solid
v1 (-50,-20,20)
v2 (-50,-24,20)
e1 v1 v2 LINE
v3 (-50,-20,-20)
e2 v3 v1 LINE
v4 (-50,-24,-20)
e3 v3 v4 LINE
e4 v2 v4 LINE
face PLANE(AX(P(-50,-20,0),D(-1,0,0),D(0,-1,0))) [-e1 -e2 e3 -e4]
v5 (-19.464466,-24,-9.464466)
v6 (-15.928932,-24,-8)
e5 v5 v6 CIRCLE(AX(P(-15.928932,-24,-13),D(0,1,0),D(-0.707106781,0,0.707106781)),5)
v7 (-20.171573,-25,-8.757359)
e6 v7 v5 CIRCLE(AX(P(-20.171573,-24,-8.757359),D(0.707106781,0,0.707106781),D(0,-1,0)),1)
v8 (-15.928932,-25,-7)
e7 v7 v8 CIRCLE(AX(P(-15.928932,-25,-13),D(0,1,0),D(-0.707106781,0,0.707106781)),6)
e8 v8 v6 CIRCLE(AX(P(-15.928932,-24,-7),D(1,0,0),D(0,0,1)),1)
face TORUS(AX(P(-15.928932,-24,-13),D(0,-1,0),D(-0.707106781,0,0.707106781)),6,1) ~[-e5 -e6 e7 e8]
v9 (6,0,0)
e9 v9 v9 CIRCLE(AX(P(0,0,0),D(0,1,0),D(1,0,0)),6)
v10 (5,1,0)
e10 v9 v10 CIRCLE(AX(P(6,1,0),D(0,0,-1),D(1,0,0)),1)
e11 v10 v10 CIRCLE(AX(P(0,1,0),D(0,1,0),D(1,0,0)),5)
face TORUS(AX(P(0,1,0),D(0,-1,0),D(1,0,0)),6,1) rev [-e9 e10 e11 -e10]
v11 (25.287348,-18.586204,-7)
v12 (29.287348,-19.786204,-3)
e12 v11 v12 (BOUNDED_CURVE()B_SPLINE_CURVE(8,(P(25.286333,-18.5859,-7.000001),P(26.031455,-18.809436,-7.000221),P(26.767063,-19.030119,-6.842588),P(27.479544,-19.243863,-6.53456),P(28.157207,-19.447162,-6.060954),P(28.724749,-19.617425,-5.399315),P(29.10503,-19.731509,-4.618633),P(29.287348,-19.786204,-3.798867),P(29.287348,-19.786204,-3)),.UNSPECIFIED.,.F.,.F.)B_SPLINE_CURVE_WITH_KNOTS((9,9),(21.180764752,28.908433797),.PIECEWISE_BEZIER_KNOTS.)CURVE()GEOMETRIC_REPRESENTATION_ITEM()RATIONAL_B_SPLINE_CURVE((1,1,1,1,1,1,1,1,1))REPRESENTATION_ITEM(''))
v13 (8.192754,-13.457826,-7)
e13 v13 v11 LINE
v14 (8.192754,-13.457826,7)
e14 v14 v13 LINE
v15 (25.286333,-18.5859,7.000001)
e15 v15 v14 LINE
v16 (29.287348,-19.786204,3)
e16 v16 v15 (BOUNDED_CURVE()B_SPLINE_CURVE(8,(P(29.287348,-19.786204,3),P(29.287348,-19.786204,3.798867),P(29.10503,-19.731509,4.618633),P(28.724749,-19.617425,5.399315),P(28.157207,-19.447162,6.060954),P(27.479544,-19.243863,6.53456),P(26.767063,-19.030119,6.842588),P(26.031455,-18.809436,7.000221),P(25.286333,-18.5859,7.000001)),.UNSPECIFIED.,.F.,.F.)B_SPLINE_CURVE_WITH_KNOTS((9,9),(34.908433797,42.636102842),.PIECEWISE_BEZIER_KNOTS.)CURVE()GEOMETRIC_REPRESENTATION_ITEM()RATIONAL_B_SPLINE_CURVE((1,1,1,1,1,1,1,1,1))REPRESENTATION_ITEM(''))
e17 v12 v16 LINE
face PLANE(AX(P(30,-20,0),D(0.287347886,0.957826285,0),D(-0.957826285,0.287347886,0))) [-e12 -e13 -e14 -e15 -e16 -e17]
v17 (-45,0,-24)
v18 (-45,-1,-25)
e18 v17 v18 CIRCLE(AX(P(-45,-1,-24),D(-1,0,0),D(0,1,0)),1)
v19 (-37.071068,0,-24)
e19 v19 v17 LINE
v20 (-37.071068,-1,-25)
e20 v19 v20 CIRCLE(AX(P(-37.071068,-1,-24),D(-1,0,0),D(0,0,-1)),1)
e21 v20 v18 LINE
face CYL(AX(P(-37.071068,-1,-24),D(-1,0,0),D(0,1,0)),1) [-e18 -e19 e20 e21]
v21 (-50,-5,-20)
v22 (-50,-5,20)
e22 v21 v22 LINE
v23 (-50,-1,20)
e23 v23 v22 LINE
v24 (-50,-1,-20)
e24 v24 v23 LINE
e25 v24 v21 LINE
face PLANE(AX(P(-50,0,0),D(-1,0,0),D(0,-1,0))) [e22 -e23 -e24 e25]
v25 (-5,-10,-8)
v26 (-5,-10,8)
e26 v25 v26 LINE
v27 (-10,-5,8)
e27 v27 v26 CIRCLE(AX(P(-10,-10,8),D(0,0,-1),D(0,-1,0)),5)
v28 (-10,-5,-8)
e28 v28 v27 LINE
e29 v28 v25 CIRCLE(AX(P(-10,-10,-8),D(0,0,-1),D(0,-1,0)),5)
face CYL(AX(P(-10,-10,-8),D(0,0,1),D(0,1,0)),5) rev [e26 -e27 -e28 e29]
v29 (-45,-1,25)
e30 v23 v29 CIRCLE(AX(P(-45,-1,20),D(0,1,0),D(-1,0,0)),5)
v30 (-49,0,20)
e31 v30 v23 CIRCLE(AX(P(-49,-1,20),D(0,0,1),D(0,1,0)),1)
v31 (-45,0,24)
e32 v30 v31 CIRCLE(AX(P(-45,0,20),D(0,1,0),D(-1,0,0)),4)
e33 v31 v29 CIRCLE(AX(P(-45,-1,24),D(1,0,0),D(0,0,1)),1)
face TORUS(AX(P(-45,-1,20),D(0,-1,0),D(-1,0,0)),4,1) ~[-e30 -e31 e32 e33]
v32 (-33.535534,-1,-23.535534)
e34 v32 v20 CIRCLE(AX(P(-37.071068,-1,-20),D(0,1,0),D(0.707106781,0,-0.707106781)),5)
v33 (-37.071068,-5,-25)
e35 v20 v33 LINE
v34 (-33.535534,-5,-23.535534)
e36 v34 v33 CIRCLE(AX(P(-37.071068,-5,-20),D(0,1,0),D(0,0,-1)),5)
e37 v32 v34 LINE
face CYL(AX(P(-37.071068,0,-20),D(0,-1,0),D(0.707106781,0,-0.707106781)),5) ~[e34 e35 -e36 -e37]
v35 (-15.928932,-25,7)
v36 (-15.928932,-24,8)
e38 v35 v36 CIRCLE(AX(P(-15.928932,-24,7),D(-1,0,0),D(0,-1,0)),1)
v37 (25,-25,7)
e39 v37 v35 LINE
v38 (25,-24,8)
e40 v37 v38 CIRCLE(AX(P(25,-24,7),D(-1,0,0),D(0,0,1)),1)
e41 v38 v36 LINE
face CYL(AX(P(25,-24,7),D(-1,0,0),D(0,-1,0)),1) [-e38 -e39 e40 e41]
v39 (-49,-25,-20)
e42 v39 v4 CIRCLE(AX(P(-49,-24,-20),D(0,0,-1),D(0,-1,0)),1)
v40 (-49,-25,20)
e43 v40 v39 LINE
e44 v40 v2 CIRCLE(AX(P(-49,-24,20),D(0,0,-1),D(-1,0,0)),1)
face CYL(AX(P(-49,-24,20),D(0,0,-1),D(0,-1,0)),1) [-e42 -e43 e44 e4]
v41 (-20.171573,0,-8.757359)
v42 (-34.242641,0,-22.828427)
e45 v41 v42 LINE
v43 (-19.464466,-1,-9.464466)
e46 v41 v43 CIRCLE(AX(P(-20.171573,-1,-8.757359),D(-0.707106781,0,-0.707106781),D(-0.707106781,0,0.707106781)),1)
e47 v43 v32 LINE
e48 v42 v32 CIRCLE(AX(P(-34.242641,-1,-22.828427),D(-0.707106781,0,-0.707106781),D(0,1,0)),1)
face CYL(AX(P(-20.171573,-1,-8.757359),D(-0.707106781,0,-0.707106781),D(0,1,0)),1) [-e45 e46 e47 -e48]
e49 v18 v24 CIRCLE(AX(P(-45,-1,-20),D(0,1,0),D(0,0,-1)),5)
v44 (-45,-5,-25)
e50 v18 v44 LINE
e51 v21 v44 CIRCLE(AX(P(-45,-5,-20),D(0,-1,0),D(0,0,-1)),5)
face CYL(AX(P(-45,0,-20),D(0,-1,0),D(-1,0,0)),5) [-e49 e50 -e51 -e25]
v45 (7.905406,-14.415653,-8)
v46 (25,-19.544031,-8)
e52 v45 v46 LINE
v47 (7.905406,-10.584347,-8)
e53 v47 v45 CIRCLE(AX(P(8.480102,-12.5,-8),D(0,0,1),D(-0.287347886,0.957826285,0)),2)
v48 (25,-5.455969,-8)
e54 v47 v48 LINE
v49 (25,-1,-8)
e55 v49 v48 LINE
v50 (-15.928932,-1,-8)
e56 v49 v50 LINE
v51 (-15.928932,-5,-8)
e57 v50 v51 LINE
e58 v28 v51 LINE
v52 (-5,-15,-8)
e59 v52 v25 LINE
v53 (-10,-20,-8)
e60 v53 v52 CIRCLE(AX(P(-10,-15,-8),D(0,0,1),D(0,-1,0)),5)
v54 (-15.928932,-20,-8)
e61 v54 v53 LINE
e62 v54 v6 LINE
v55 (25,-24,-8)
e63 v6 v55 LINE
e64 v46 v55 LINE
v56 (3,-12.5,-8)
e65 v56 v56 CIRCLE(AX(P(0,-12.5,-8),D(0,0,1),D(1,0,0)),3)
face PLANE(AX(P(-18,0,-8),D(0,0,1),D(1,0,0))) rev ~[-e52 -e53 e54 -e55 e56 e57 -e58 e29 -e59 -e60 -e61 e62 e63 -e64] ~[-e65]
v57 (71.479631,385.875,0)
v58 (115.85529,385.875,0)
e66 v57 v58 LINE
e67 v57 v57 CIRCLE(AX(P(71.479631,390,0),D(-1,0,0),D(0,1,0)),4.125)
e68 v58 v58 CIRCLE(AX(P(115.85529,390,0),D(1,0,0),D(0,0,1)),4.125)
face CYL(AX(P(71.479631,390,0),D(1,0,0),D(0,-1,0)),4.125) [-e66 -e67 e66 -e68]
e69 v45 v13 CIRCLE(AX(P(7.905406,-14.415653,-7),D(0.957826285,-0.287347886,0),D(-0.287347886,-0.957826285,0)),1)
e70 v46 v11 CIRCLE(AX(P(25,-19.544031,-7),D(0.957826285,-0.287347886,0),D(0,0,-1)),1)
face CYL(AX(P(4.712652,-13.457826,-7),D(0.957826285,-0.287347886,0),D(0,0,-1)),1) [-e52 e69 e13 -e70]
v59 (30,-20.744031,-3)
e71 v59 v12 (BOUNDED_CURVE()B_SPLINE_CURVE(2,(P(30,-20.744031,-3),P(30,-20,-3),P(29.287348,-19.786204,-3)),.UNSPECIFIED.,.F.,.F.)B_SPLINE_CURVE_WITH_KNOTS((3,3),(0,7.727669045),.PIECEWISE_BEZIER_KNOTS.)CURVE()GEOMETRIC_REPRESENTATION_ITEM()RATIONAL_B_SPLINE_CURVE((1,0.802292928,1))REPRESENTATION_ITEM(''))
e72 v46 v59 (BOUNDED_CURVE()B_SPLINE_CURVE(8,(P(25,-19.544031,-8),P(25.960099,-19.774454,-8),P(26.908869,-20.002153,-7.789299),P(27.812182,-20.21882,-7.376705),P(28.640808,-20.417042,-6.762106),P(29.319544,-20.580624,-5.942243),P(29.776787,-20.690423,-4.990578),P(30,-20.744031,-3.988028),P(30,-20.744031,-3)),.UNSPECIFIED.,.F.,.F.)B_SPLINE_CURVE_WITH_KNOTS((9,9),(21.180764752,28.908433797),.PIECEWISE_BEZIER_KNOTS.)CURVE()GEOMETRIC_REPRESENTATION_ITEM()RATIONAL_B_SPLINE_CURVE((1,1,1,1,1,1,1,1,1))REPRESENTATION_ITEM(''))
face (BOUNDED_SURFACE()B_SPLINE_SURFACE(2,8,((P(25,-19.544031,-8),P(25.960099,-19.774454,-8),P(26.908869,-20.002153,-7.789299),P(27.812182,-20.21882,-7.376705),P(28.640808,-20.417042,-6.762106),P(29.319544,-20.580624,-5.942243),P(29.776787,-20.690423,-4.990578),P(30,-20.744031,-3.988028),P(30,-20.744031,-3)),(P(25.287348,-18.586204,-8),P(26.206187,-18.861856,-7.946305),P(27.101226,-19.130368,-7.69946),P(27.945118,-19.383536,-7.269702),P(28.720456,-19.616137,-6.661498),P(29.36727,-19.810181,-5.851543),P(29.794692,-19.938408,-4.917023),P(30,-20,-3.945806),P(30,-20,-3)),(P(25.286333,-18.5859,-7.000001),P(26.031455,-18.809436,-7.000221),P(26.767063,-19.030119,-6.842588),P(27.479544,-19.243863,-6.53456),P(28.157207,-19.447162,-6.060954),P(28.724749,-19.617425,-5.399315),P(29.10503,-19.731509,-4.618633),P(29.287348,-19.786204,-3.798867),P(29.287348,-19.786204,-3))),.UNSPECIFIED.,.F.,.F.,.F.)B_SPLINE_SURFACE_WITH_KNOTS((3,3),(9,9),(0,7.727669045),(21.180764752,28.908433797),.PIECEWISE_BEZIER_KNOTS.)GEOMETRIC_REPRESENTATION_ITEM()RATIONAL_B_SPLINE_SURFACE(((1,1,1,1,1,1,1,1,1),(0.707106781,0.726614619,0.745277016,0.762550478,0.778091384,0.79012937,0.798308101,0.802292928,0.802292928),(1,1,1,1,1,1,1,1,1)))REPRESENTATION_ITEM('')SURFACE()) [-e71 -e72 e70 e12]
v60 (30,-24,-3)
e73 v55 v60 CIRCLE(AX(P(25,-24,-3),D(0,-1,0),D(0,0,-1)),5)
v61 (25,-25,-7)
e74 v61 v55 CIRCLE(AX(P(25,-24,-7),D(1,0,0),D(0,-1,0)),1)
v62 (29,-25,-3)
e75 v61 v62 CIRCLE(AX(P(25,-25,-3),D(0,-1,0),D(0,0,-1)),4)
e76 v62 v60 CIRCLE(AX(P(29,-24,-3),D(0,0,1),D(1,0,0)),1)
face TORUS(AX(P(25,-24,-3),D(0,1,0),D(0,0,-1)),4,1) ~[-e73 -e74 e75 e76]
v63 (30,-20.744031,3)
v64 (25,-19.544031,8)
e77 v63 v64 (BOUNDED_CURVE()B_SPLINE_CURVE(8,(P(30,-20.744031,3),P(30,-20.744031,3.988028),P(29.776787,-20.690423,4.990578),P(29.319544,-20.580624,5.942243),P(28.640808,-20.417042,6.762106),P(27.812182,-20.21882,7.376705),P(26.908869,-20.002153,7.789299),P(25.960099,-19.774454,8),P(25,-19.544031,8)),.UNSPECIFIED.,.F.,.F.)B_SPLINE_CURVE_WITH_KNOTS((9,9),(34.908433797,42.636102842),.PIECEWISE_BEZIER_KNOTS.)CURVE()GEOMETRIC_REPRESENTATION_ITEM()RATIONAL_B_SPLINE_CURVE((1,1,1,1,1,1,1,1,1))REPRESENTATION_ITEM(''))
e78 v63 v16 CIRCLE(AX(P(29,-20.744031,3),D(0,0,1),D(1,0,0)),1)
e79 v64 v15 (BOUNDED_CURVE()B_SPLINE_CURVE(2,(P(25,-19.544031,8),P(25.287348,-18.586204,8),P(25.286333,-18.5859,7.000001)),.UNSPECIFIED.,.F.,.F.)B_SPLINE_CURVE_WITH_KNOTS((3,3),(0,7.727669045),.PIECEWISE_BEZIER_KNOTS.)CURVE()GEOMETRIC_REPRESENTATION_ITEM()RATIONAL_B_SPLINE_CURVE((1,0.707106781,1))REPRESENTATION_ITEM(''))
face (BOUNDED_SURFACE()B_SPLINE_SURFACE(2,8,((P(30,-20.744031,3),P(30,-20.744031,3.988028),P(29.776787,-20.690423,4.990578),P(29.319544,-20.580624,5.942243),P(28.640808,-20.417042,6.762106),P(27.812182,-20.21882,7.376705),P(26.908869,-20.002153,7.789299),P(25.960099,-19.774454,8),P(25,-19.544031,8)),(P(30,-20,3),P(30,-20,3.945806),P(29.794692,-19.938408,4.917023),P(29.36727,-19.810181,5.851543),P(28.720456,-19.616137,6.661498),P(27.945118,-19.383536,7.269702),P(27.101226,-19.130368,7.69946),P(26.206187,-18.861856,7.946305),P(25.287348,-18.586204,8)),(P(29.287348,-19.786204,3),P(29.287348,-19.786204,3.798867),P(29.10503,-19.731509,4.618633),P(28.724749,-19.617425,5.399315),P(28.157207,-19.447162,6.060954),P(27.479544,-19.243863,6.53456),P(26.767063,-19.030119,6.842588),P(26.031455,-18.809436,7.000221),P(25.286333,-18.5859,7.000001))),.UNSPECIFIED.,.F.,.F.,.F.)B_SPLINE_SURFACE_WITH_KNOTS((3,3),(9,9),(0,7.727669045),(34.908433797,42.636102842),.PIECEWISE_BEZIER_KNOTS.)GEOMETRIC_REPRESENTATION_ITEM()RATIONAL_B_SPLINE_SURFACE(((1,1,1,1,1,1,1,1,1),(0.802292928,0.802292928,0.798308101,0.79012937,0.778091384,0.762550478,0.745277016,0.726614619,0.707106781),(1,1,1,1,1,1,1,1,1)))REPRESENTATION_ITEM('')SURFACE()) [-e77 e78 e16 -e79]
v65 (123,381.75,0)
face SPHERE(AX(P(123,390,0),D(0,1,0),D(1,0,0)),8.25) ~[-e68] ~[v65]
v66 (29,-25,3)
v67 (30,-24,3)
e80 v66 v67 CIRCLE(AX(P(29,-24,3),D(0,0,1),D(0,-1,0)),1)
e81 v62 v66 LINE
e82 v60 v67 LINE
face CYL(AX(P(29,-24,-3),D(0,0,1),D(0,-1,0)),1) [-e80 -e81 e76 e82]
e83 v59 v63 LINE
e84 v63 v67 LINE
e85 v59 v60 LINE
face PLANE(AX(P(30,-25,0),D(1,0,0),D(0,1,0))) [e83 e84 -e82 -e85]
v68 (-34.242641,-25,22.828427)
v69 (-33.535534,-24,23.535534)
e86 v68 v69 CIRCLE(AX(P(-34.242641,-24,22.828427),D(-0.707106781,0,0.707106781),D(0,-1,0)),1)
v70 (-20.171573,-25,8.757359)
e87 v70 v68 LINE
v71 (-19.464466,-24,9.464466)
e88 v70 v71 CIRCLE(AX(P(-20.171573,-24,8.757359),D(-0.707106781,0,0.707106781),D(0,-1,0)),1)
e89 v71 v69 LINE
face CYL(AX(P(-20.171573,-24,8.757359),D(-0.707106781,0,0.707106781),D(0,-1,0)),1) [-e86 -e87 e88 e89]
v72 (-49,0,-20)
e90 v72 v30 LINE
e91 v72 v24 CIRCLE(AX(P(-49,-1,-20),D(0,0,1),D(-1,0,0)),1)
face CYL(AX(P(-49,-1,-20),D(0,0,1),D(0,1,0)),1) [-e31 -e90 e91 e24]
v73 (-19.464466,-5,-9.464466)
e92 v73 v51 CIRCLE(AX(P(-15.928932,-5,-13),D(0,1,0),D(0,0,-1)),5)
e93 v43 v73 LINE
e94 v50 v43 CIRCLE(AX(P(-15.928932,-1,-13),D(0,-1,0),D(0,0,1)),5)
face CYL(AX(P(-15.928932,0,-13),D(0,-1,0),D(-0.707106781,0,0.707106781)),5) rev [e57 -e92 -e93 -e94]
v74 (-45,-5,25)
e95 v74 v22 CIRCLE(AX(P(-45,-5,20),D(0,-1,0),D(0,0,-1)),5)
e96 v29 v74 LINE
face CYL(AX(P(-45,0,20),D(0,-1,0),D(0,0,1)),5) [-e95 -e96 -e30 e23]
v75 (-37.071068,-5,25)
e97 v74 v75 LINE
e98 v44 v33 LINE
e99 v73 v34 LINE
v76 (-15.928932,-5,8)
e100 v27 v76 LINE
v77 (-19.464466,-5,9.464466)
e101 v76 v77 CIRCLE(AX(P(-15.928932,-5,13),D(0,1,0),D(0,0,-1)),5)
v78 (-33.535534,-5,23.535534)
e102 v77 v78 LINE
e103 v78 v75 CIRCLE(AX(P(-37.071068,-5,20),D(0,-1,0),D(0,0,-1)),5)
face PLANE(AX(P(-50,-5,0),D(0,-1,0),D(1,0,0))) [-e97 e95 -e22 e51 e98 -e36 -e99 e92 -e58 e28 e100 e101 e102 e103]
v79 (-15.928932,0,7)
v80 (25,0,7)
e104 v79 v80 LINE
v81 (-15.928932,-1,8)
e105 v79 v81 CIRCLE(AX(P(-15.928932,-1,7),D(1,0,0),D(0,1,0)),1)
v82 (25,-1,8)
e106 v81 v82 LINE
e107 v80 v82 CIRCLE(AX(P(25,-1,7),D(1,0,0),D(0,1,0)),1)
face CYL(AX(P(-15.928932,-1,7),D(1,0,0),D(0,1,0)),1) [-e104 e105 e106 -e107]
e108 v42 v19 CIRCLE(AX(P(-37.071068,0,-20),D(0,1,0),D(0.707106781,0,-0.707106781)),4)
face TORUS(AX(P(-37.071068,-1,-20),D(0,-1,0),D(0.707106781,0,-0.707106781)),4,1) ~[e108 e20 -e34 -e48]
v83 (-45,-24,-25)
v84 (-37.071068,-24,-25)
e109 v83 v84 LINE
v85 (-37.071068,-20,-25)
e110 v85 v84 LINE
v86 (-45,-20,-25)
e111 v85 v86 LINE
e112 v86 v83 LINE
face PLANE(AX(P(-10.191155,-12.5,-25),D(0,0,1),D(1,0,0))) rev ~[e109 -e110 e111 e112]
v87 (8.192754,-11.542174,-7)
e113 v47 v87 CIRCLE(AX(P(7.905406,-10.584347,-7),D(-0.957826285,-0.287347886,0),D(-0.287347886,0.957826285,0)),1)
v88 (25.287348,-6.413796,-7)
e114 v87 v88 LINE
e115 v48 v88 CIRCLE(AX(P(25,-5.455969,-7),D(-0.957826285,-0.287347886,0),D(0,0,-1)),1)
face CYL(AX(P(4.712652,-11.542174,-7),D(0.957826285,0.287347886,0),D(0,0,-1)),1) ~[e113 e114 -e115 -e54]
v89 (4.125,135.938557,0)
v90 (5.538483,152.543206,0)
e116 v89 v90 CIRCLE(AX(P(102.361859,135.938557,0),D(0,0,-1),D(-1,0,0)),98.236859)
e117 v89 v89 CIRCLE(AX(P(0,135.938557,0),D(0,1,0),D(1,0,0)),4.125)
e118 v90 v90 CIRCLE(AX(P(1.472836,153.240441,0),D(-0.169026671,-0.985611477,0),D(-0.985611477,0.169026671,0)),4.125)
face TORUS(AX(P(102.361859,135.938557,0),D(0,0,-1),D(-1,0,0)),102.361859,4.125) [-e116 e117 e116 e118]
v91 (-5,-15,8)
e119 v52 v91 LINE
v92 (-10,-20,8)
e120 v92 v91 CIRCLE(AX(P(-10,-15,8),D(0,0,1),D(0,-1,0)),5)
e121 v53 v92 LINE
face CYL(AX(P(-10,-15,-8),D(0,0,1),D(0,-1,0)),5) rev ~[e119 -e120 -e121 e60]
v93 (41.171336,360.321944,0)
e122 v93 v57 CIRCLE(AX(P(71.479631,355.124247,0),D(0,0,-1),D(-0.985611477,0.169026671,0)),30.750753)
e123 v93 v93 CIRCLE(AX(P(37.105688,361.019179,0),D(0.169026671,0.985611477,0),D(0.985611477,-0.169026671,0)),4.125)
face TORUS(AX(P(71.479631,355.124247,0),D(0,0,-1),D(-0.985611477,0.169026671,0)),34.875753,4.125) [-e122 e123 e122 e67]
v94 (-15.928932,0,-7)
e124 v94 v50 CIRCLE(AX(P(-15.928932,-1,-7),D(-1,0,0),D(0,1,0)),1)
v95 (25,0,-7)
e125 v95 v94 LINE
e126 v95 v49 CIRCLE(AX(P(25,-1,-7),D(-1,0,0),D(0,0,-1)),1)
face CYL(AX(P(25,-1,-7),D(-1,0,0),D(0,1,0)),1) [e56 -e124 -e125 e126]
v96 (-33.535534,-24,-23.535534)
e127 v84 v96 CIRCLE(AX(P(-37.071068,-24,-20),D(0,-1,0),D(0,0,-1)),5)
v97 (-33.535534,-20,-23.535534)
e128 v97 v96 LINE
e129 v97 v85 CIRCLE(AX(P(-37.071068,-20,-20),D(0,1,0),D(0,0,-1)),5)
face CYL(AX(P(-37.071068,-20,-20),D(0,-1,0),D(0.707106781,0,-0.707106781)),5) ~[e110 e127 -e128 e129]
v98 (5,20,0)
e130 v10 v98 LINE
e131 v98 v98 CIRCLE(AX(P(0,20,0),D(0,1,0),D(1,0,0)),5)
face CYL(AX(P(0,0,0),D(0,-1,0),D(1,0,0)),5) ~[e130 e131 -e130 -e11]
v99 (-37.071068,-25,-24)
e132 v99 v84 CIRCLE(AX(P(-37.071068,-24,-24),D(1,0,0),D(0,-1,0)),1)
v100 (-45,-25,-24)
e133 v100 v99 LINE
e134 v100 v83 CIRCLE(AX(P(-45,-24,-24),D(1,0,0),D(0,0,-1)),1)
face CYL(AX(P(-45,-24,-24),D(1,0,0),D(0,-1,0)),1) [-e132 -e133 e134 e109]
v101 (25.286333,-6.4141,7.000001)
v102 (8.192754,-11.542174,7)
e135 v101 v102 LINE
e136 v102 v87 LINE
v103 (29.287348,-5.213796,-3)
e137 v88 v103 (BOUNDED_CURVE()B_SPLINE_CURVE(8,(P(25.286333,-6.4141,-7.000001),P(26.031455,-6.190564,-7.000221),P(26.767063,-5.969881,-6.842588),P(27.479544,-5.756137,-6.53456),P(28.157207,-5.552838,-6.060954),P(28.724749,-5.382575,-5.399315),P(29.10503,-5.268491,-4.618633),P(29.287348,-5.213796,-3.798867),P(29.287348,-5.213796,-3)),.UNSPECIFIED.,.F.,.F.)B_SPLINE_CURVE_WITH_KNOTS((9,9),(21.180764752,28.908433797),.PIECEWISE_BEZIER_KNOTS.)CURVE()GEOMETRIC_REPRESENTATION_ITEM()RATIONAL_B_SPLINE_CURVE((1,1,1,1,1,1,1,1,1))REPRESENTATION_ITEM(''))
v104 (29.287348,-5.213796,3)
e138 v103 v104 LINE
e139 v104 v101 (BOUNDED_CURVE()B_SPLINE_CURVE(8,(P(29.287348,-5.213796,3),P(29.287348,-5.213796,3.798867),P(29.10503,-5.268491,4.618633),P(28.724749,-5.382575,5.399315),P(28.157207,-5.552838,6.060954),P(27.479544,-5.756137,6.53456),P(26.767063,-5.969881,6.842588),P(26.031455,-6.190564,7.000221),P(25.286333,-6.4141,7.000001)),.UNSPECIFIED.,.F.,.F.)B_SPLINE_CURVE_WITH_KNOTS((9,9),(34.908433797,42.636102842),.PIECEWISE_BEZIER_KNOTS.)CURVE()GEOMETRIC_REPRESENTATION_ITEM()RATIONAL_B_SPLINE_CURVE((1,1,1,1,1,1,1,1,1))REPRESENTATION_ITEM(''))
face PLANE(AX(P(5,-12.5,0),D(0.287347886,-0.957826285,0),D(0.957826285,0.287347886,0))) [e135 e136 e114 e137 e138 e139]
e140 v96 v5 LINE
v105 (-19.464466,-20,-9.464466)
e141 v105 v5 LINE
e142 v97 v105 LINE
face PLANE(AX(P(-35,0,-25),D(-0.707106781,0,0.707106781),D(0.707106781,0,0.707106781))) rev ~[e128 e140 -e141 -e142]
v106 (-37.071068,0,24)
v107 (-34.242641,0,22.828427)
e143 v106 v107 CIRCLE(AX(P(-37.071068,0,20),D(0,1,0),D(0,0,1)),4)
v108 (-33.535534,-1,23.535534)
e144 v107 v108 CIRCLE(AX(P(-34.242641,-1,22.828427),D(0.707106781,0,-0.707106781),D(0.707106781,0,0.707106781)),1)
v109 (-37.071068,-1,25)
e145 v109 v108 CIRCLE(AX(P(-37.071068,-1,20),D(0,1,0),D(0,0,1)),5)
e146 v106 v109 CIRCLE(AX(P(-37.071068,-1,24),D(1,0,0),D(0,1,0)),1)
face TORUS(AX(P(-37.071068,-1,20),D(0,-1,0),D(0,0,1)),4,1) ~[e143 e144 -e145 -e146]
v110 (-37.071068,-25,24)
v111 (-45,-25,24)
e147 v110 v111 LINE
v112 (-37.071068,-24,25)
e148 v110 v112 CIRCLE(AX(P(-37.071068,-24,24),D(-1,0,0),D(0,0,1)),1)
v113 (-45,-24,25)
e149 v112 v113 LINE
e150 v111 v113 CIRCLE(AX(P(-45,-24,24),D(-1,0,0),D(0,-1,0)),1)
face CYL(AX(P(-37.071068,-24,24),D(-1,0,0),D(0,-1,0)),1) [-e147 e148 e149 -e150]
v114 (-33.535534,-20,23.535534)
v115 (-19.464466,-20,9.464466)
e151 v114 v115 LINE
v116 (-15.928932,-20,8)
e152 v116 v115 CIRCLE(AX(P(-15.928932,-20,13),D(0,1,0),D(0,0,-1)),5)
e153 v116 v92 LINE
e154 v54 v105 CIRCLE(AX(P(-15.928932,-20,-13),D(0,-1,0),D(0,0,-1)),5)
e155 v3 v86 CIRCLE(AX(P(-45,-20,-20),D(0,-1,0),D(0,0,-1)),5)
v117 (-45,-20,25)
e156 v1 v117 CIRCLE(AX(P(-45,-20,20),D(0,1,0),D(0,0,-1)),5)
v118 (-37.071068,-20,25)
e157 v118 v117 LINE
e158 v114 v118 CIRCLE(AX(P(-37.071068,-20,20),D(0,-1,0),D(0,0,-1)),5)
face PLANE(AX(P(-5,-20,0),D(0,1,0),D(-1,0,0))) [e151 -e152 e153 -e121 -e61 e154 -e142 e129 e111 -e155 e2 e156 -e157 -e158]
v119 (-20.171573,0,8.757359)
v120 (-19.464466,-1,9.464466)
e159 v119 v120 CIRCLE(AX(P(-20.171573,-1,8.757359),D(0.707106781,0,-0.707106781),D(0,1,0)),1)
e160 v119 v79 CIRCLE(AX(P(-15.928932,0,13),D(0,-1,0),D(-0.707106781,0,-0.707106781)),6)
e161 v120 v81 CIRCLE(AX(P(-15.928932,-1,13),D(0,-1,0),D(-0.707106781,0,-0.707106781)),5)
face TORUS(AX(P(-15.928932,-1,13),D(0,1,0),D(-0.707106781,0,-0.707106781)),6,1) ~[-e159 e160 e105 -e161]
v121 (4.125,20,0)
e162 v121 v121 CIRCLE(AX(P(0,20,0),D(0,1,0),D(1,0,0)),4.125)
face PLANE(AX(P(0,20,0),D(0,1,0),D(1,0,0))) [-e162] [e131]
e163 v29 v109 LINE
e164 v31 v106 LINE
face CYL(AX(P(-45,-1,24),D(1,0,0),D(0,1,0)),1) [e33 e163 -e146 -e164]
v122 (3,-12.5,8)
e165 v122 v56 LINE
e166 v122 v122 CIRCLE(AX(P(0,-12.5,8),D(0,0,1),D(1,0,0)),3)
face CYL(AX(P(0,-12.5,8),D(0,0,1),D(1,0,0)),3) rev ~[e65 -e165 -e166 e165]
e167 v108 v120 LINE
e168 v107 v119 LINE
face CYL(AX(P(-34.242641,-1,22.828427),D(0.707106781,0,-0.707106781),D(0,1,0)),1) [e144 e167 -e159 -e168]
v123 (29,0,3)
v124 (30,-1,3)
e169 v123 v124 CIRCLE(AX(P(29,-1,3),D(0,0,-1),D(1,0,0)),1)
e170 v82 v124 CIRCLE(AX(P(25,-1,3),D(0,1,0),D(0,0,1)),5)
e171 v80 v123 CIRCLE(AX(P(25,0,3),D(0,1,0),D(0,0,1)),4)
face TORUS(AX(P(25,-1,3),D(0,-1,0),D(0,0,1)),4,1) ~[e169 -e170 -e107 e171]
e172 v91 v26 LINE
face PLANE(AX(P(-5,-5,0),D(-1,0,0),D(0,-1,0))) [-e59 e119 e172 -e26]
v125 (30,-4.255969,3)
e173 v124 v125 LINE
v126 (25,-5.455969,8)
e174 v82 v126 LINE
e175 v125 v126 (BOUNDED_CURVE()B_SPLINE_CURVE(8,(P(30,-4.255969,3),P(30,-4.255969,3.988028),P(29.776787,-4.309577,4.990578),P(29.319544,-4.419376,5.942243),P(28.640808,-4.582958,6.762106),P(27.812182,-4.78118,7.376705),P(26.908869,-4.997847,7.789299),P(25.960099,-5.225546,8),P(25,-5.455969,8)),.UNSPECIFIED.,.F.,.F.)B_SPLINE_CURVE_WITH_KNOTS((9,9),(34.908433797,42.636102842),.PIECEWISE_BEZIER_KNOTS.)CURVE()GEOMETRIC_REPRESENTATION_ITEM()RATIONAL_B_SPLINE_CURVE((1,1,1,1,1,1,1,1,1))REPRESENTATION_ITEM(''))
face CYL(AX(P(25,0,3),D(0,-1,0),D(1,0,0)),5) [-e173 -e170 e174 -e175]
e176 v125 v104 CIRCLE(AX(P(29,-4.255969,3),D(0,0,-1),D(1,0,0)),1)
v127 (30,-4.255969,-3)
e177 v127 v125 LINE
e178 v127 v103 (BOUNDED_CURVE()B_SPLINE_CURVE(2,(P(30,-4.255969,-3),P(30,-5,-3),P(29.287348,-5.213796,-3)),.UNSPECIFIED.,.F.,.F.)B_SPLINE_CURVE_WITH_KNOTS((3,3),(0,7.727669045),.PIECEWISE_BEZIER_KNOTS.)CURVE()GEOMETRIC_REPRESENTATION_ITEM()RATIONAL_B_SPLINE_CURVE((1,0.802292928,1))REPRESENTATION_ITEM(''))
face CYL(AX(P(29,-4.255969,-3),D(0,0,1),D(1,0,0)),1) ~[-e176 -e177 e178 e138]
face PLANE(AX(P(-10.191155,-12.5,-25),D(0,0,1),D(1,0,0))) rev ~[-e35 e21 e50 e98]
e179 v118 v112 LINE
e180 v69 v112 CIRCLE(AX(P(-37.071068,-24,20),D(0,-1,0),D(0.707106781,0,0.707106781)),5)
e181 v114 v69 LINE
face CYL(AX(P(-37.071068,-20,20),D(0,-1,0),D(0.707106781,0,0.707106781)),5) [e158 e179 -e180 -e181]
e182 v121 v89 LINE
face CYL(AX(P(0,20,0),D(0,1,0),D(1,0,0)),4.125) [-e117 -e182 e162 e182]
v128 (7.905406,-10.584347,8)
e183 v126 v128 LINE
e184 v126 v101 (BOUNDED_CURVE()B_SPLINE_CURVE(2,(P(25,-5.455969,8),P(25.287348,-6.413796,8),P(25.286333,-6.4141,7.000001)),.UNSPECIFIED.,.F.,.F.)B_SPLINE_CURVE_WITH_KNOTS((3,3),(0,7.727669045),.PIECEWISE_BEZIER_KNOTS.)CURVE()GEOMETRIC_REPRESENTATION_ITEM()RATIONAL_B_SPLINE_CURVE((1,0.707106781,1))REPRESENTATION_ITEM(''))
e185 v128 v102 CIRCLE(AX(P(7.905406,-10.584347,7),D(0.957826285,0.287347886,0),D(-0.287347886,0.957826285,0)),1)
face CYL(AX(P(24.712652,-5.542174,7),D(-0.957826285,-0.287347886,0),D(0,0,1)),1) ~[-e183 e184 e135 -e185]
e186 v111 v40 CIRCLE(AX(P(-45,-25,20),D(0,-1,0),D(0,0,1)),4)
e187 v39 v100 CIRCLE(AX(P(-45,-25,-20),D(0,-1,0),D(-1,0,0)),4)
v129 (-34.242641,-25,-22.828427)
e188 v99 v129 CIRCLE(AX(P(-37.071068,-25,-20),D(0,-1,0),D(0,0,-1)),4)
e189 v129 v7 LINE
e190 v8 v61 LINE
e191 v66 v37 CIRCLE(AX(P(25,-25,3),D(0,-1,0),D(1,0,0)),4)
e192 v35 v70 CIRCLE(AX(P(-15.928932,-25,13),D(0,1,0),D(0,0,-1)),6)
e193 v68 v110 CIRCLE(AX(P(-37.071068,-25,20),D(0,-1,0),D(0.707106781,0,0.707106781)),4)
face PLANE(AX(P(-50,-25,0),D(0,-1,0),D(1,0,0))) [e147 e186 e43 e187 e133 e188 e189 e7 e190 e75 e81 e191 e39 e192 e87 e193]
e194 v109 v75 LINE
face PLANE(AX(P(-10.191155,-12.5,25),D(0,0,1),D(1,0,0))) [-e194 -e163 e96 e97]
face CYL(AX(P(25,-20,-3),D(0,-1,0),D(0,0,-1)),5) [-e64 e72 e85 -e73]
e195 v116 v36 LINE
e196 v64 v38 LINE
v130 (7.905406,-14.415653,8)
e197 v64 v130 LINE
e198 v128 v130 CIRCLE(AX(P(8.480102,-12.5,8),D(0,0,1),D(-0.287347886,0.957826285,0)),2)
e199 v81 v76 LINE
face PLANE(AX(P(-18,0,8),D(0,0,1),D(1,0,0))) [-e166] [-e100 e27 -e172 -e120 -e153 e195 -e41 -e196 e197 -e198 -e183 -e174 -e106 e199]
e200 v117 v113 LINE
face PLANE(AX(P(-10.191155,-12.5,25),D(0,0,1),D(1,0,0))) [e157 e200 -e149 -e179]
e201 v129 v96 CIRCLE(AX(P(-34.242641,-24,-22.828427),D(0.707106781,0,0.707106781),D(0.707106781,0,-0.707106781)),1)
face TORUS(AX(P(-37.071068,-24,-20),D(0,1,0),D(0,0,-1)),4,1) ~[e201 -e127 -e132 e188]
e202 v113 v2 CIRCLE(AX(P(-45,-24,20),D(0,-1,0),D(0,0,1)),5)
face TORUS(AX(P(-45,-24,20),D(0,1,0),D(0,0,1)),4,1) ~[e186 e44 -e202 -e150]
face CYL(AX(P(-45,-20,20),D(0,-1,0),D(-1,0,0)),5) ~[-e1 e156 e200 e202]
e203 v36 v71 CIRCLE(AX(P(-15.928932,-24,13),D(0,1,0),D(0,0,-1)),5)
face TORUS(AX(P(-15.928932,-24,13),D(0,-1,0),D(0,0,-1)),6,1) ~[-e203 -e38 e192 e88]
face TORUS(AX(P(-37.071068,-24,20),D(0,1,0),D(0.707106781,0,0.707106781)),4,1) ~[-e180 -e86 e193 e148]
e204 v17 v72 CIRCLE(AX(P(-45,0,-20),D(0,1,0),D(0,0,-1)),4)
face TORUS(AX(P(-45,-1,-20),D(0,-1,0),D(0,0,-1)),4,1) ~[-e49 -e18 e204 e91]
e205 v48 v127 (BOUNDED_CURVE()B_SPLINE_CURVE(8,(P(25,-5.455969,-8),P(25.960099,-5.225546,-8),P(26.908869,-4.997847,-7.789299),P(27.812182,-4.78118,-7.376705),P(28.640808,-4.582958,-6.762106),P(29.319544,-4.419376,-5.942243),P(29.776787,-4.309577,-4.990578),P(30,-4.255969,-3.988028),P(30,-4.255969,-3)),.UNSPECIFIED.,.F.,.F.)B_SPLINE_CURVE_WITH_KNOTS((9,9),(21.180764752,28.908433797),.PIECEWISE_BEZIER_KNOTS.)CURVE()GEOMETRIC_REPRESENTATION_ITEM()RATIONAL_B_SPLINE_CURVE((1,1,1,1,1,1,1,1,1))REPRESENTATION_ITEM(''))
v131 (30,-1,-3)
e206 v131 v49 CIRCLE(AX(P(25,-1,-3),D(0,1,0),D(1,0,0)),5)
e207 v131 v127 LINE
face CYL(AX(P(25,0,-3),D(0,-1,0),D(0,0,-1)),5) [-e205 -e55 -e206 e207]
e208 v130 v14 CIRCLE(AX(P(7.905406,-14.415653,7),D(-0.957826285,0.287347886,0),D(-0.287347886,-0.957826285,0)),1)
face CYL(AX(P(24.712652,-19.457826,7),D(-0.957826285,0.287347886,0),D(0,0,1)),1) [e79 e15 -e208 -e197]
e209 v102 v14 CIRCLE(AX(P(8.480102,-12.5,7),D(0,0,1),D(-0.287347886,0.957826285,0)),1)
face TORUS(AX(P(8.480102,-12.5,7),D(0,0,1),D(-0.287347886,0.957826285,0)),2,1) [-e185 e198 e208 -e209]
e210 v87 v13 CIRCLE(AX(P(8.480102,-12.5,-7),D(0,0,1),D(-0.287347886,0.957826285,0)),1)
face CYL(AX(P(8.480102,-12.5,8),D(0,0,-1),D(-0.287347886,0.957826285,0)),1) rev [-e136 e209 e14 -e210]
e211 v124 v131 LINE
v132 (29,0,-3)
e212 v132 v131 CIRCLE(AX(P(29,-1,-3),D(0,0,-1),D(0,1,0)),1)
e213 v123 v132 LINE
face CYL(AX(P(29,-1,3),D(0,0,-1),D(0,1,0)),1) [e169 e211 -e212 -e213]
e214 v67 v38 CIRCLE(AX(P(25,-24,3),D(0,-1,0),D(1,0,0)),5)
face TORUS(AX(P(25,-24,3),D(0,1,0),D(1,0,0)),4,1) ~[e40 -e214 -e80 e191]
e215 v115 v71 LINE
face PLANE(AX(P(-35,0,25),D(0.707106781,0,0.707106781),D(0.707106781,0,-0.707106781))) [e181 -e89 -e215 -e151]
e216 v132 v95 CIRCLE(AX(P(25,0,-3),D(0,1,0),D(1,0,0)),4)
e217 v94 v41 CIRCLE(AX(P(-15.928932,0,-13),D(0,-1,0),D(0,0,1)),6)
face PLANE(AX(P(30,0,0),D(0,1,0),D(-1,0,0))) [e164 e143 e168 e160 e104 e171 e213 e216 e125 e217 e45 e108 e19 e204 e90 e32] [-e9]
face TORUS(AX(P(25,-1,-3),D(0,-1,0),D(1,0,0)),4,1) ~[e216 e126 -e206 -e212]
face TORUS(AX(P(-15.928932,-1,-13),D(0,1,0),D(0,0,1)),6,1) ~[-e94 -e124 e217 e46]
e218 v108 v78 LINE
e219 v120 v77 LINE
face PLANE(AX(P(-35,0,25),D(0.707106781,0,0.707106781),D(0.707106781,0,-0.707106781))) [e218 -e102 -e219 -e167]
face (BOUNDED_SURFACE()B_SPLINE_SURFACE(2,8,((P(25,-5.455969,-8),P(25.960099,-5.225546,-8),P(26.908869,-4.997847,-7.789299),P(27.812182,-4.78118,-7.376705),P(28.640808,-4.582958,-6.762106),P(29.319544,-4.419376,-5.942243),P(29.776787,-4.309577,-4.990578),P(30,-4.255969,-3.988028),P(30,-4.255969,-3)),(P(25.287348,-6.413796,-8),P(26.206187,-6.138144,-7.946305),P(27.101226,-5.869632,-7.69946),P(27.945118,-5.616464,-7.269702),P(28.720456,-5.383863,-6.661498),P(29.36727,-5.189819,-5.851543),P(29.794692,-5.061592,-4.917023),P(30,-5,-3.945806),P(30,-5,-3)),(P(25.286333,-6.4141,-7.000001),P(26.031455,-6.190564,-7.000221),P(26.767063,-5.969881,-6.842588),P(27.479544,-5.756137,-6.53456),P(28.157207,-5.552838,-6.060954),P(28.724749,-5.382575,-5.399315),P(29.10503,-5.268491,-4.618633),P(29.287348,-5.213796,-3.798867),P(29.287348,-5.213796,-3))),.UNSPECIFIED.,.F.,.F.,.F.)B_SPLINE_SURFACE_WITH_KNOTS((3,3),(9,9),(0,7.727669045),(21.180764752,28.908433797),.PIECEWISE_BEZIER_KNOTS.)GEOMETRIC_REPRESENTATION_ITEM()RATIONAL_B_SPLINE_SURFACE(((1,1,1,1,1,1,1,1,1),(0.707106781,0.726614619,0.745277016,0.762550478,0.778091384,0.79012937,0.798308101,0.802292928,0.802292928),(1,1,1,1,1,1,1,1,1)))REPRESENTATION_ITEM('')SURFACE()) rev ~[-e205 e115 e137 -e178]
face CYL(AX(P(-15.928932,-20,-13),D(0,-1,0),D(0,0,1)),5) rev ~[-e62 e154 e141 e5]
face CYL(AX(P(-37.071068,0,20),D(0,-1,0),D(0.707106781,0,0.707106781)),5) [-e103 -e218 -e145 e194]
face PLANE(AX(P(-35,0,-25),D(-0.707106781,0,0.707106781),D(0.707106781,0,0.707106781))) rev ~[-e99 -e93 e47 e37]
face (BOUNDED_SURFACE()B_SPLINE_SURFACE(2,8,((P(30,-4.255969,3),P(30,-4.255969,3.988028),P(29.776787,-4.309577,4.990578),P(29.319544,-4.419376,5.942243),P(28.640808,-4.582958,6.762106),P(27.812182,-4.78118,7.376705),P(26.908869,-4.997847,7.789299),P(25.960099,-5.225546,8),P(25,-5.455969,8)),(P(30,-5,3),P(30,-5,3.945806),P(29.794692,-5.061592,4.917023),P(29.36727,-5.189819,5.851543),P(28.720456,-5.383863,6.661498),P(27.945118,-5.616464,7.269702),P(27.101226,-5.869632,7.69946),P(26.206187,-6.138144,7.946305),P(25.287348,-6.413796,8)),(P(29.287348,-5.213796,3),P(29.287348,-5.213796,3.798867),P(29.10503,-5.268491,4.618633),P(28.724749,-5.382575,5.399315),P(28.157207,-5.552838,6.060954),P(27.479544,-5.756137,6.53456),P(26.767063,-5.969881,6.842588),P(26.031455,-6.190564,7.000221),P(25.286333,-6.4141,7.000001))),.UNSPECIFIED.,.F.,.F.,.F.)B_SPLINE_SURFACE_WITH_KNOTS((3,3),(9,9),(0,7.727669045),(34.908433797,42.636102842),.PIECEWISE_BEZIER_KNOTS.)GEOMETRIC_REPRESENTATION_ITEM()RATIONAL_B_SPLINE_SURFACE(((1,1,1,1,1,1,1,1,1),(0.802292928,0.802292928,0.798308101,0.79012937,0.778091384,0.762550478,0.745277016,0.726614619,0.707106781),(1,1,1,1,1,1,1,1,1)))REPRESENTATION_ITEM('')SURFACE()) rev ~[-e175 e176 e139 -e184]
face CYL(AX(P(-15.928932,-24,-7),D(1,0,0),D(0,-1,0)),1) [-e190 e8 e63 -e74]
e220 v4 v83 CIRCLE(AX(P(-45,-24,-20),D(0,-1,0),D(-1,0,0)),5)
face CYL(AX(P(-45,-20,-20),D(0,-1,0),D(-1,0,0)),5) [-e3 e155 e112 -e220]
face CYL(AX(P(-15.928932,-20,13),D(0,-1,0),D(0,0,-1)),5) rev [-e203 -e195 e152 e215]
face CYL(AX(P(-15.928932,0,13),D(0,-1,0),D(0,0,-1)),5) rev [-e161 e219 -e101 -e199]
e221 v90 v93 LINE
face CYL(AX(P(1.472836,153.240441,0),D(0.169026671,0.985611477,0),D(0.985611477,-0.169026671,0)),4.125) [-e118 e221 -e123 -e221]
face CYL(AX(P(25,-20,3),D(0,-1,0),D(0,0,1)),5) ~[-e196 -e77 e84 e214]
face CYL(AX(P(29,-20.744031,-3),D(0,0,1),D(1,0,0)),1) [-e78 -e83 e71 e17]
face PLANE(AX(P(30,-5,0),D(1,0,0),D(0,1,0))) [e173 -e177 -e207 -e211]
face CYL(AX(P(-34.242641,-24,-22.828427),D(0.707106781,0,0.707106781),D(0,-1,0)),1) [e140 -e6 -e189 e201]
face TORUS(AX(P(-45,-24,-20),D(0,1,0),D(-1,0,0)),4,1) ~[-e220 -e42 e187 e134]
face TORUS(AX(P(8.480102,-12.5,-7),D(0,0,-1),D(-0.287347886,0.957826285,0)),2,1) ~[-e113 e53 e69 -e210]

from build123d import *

# Parameters (mm, degrees)
CROQUIS1_R              = 5
SALIENTE_EXTRUIR1_DEPTH = 20
SALIENTE_EXTRUIR2_DEPTH = 25
CORTAR_EXTRUIR1_DEPTH   = 26
REDONDEO1_R             = 5
REDONDEO2_R             = 1
CROQUIS4_R              = 4.125
CROQUIS7_R              = 3
CORTAR_EXTRUIR2_DEPTH   = 34


with BuildPart() as part:
    # Croquis1 → Saliente-Extruir1 (new body)
    with BuildSketch(Plane(origin=(0, 0, 0), x_dir=(1, 0, 0), z_dir=(0, 1, 0))):
        Circle(CROQUIS1_R)
    extrude(amount=SALIENTE_EXTRUIR1_DEPTH)

    # Croquis2 → Saliente-Extruir2 (add, symmetric)
    with BuildSketch(Plane.XY):
        Polygon((30, 0), (-50, 0), (-50, -5), (-5, -5), (-5, -20), (-50, -20), (-50, -25), (30, -25), (30, -20), (5, -12.5), (30, -5), align=None)
    extrude(amount=SALIENTE_EXTRUIR2_DEPTH, both=True)

    # Croquis3 → Cortar-Extruir1 (cut, through all)
    with BuildSketch(Plane(origin=(0, 0, 0), x_dir=(1, 0, 0), z_dir=(0, 1, 0))):
        Polygon((-35, -25), (-18, -8), (30, -8), (30, -25), align=None)
        Polygon((30, 8), (30, 25), (-35, 25), (-18, 8), align=None)
    extrude(amount=-CORTAR_EXTRUIR1_DEPTH, mode=Mode.SUBTRACT)

    # Redondeo1
    redondeo1_edges = [part.edges().sort_by_distance(p)[0] for p in [
        (-50, -2.5, 25),
        (-50, -22.5, 25),
        (-35, -2.5, -25),
        (-35, -2.5, 25),
        (-5, -20, 0),
        (-5, -5, 0),
        (-18, -2.5, 8),
        (-18, -22.5, 8),
        (-35, -22.5, 25),
        (30, -22.5, 8),
        (30, -2.5, 8),
        (-50, -2.5, -25),
        (30, -22.5, -8),
        (30, -2.5, -8),
        (-35, -22.5, -25),
        (-18, -2.5, -8),
        (-18, -22.5, -8),
        (-50, -22.5, -25),
    ]]
    fillet(redondeo1_edges, radius=REDONDEO1_R)

    # Redondeo2
    redondeo2_edges = [part.edges().sort_by_distance(p)[0] for p in [
        (-26.5, -25, 16.5),
        (4.535533906, -25, 8),
        (15, -9.5, 8),
        (4.535533906, 0, 8),
        (-26.5, 0, 16.5),
        (4.535533906, 0, -8),
        (15, -15.5, -8),
        (4.535533906, -25, -8),
        (-26.5, -25, -16.5),
        (-26.5, 0, -16.5),
        (-41.035533906, -25, -25),
        (-41.035533906, -25, 25),
        (-50, -25, 0),
        (30, -25, 0),
        (-35.15765065, -25, 24.619397663),
        (-48.535533906, -25, 23.535533906),
        (28.535533906, -25, 6.535533906),
        (28.535533906, -25, -6.535533906),
        (-48.535533906, -25, -23.535533906),
        (-35.15765065, -25, -24.619397663),
        (-41.035533906, 0, 25),
        (30, 0, 0),
        (-41.035533906, 0, -25),
        (-50, 0, 0),
        (-48.535533906, 0, 23.535533906),
        (-48.535533906, 0, -23.535533906),
        (-35.15765065, 0, 24.619397663),
        (28.535533906, 0, 6.535533906),
        (28.535533906, 0, -6.535533906),
        (-35.15765065, 0, -24.619397663),
        (30, -5, 0),
        (28.497270762, -5.450818772, 6.573387359),
        (28.497270762, -5.450818772, -6.573387359),
        (30, -20, 0),
        (28.497270762, -19.549181228, 6.573387359),
        (28.497270762, -19.549181228, -6.573387359),
        (-17.84234935, -25, 8.380602337),
        (-17.84234935, 0, 8.380602337),
        (-17.84234935, -25, -8.380602337),
        (-17.84234935, 0, -8.380602337),
        (5, -12.5, 0),
        (15, -9.5, -8),
        (-5, 0, 0),
        (15, -15.5, 8),
    ]]
    fillet(redondeo2_edges, radius=REDONDEO2_R)

    # Barrer1: sweep along a path in Croquis5
    with BuildLine(Plane.XY) as barrer1_path:
        Line((0, 20), (0, 135.938556576))
        ThreePointArc((0, 135.938556576), (0.368873619, 144.620786193), (1.472835915, 153.240440832))
        Line((1.472835915, 153.240440832), (37.105688479, 361.019179369))
        ThreePointArc((37.105688479, 361.019179369), (48.999329121, 381.787970979), (71.479630988, 390))
        Line((71.479630988, 390), (123, 390))
    # Croquis4 → Barrer1 (sweep)
    with BuildSketch(Plane(origin=(0, 20, 0), x_dir=(1, 0, 0), z_dir=(0, 1, 0))):
        Circle(CROQUIS4_R)
    sweep(path=barrer1_path.line)

    # Croquis6 → Revolución1 (revolve)
    with BuildSketch(Plane.XY):
        with BuildLine():
            Line((123, 390), (123, 381.75))
            ThreePointArc((123, 381.75), (131.25, 390), (123, 398.25))
            Line((123, 398.25), (123, 390))
        make_face()
    revolve(axis=Axis((123, 398.25, 0), (0, -1, 0)))

    # Croquis7 → Cortar-Extruir2 (cut, through all)
    with BuildSketch(Plane.XY.offset(8)):
        with Locations((0, -12.5)):
            Circle(CROQUIS7_R)
    extrude(amount=-CORTAR_EXTRUIR2_DEPTH, mode=Mode.SUBTRACT)


solid = part.part
